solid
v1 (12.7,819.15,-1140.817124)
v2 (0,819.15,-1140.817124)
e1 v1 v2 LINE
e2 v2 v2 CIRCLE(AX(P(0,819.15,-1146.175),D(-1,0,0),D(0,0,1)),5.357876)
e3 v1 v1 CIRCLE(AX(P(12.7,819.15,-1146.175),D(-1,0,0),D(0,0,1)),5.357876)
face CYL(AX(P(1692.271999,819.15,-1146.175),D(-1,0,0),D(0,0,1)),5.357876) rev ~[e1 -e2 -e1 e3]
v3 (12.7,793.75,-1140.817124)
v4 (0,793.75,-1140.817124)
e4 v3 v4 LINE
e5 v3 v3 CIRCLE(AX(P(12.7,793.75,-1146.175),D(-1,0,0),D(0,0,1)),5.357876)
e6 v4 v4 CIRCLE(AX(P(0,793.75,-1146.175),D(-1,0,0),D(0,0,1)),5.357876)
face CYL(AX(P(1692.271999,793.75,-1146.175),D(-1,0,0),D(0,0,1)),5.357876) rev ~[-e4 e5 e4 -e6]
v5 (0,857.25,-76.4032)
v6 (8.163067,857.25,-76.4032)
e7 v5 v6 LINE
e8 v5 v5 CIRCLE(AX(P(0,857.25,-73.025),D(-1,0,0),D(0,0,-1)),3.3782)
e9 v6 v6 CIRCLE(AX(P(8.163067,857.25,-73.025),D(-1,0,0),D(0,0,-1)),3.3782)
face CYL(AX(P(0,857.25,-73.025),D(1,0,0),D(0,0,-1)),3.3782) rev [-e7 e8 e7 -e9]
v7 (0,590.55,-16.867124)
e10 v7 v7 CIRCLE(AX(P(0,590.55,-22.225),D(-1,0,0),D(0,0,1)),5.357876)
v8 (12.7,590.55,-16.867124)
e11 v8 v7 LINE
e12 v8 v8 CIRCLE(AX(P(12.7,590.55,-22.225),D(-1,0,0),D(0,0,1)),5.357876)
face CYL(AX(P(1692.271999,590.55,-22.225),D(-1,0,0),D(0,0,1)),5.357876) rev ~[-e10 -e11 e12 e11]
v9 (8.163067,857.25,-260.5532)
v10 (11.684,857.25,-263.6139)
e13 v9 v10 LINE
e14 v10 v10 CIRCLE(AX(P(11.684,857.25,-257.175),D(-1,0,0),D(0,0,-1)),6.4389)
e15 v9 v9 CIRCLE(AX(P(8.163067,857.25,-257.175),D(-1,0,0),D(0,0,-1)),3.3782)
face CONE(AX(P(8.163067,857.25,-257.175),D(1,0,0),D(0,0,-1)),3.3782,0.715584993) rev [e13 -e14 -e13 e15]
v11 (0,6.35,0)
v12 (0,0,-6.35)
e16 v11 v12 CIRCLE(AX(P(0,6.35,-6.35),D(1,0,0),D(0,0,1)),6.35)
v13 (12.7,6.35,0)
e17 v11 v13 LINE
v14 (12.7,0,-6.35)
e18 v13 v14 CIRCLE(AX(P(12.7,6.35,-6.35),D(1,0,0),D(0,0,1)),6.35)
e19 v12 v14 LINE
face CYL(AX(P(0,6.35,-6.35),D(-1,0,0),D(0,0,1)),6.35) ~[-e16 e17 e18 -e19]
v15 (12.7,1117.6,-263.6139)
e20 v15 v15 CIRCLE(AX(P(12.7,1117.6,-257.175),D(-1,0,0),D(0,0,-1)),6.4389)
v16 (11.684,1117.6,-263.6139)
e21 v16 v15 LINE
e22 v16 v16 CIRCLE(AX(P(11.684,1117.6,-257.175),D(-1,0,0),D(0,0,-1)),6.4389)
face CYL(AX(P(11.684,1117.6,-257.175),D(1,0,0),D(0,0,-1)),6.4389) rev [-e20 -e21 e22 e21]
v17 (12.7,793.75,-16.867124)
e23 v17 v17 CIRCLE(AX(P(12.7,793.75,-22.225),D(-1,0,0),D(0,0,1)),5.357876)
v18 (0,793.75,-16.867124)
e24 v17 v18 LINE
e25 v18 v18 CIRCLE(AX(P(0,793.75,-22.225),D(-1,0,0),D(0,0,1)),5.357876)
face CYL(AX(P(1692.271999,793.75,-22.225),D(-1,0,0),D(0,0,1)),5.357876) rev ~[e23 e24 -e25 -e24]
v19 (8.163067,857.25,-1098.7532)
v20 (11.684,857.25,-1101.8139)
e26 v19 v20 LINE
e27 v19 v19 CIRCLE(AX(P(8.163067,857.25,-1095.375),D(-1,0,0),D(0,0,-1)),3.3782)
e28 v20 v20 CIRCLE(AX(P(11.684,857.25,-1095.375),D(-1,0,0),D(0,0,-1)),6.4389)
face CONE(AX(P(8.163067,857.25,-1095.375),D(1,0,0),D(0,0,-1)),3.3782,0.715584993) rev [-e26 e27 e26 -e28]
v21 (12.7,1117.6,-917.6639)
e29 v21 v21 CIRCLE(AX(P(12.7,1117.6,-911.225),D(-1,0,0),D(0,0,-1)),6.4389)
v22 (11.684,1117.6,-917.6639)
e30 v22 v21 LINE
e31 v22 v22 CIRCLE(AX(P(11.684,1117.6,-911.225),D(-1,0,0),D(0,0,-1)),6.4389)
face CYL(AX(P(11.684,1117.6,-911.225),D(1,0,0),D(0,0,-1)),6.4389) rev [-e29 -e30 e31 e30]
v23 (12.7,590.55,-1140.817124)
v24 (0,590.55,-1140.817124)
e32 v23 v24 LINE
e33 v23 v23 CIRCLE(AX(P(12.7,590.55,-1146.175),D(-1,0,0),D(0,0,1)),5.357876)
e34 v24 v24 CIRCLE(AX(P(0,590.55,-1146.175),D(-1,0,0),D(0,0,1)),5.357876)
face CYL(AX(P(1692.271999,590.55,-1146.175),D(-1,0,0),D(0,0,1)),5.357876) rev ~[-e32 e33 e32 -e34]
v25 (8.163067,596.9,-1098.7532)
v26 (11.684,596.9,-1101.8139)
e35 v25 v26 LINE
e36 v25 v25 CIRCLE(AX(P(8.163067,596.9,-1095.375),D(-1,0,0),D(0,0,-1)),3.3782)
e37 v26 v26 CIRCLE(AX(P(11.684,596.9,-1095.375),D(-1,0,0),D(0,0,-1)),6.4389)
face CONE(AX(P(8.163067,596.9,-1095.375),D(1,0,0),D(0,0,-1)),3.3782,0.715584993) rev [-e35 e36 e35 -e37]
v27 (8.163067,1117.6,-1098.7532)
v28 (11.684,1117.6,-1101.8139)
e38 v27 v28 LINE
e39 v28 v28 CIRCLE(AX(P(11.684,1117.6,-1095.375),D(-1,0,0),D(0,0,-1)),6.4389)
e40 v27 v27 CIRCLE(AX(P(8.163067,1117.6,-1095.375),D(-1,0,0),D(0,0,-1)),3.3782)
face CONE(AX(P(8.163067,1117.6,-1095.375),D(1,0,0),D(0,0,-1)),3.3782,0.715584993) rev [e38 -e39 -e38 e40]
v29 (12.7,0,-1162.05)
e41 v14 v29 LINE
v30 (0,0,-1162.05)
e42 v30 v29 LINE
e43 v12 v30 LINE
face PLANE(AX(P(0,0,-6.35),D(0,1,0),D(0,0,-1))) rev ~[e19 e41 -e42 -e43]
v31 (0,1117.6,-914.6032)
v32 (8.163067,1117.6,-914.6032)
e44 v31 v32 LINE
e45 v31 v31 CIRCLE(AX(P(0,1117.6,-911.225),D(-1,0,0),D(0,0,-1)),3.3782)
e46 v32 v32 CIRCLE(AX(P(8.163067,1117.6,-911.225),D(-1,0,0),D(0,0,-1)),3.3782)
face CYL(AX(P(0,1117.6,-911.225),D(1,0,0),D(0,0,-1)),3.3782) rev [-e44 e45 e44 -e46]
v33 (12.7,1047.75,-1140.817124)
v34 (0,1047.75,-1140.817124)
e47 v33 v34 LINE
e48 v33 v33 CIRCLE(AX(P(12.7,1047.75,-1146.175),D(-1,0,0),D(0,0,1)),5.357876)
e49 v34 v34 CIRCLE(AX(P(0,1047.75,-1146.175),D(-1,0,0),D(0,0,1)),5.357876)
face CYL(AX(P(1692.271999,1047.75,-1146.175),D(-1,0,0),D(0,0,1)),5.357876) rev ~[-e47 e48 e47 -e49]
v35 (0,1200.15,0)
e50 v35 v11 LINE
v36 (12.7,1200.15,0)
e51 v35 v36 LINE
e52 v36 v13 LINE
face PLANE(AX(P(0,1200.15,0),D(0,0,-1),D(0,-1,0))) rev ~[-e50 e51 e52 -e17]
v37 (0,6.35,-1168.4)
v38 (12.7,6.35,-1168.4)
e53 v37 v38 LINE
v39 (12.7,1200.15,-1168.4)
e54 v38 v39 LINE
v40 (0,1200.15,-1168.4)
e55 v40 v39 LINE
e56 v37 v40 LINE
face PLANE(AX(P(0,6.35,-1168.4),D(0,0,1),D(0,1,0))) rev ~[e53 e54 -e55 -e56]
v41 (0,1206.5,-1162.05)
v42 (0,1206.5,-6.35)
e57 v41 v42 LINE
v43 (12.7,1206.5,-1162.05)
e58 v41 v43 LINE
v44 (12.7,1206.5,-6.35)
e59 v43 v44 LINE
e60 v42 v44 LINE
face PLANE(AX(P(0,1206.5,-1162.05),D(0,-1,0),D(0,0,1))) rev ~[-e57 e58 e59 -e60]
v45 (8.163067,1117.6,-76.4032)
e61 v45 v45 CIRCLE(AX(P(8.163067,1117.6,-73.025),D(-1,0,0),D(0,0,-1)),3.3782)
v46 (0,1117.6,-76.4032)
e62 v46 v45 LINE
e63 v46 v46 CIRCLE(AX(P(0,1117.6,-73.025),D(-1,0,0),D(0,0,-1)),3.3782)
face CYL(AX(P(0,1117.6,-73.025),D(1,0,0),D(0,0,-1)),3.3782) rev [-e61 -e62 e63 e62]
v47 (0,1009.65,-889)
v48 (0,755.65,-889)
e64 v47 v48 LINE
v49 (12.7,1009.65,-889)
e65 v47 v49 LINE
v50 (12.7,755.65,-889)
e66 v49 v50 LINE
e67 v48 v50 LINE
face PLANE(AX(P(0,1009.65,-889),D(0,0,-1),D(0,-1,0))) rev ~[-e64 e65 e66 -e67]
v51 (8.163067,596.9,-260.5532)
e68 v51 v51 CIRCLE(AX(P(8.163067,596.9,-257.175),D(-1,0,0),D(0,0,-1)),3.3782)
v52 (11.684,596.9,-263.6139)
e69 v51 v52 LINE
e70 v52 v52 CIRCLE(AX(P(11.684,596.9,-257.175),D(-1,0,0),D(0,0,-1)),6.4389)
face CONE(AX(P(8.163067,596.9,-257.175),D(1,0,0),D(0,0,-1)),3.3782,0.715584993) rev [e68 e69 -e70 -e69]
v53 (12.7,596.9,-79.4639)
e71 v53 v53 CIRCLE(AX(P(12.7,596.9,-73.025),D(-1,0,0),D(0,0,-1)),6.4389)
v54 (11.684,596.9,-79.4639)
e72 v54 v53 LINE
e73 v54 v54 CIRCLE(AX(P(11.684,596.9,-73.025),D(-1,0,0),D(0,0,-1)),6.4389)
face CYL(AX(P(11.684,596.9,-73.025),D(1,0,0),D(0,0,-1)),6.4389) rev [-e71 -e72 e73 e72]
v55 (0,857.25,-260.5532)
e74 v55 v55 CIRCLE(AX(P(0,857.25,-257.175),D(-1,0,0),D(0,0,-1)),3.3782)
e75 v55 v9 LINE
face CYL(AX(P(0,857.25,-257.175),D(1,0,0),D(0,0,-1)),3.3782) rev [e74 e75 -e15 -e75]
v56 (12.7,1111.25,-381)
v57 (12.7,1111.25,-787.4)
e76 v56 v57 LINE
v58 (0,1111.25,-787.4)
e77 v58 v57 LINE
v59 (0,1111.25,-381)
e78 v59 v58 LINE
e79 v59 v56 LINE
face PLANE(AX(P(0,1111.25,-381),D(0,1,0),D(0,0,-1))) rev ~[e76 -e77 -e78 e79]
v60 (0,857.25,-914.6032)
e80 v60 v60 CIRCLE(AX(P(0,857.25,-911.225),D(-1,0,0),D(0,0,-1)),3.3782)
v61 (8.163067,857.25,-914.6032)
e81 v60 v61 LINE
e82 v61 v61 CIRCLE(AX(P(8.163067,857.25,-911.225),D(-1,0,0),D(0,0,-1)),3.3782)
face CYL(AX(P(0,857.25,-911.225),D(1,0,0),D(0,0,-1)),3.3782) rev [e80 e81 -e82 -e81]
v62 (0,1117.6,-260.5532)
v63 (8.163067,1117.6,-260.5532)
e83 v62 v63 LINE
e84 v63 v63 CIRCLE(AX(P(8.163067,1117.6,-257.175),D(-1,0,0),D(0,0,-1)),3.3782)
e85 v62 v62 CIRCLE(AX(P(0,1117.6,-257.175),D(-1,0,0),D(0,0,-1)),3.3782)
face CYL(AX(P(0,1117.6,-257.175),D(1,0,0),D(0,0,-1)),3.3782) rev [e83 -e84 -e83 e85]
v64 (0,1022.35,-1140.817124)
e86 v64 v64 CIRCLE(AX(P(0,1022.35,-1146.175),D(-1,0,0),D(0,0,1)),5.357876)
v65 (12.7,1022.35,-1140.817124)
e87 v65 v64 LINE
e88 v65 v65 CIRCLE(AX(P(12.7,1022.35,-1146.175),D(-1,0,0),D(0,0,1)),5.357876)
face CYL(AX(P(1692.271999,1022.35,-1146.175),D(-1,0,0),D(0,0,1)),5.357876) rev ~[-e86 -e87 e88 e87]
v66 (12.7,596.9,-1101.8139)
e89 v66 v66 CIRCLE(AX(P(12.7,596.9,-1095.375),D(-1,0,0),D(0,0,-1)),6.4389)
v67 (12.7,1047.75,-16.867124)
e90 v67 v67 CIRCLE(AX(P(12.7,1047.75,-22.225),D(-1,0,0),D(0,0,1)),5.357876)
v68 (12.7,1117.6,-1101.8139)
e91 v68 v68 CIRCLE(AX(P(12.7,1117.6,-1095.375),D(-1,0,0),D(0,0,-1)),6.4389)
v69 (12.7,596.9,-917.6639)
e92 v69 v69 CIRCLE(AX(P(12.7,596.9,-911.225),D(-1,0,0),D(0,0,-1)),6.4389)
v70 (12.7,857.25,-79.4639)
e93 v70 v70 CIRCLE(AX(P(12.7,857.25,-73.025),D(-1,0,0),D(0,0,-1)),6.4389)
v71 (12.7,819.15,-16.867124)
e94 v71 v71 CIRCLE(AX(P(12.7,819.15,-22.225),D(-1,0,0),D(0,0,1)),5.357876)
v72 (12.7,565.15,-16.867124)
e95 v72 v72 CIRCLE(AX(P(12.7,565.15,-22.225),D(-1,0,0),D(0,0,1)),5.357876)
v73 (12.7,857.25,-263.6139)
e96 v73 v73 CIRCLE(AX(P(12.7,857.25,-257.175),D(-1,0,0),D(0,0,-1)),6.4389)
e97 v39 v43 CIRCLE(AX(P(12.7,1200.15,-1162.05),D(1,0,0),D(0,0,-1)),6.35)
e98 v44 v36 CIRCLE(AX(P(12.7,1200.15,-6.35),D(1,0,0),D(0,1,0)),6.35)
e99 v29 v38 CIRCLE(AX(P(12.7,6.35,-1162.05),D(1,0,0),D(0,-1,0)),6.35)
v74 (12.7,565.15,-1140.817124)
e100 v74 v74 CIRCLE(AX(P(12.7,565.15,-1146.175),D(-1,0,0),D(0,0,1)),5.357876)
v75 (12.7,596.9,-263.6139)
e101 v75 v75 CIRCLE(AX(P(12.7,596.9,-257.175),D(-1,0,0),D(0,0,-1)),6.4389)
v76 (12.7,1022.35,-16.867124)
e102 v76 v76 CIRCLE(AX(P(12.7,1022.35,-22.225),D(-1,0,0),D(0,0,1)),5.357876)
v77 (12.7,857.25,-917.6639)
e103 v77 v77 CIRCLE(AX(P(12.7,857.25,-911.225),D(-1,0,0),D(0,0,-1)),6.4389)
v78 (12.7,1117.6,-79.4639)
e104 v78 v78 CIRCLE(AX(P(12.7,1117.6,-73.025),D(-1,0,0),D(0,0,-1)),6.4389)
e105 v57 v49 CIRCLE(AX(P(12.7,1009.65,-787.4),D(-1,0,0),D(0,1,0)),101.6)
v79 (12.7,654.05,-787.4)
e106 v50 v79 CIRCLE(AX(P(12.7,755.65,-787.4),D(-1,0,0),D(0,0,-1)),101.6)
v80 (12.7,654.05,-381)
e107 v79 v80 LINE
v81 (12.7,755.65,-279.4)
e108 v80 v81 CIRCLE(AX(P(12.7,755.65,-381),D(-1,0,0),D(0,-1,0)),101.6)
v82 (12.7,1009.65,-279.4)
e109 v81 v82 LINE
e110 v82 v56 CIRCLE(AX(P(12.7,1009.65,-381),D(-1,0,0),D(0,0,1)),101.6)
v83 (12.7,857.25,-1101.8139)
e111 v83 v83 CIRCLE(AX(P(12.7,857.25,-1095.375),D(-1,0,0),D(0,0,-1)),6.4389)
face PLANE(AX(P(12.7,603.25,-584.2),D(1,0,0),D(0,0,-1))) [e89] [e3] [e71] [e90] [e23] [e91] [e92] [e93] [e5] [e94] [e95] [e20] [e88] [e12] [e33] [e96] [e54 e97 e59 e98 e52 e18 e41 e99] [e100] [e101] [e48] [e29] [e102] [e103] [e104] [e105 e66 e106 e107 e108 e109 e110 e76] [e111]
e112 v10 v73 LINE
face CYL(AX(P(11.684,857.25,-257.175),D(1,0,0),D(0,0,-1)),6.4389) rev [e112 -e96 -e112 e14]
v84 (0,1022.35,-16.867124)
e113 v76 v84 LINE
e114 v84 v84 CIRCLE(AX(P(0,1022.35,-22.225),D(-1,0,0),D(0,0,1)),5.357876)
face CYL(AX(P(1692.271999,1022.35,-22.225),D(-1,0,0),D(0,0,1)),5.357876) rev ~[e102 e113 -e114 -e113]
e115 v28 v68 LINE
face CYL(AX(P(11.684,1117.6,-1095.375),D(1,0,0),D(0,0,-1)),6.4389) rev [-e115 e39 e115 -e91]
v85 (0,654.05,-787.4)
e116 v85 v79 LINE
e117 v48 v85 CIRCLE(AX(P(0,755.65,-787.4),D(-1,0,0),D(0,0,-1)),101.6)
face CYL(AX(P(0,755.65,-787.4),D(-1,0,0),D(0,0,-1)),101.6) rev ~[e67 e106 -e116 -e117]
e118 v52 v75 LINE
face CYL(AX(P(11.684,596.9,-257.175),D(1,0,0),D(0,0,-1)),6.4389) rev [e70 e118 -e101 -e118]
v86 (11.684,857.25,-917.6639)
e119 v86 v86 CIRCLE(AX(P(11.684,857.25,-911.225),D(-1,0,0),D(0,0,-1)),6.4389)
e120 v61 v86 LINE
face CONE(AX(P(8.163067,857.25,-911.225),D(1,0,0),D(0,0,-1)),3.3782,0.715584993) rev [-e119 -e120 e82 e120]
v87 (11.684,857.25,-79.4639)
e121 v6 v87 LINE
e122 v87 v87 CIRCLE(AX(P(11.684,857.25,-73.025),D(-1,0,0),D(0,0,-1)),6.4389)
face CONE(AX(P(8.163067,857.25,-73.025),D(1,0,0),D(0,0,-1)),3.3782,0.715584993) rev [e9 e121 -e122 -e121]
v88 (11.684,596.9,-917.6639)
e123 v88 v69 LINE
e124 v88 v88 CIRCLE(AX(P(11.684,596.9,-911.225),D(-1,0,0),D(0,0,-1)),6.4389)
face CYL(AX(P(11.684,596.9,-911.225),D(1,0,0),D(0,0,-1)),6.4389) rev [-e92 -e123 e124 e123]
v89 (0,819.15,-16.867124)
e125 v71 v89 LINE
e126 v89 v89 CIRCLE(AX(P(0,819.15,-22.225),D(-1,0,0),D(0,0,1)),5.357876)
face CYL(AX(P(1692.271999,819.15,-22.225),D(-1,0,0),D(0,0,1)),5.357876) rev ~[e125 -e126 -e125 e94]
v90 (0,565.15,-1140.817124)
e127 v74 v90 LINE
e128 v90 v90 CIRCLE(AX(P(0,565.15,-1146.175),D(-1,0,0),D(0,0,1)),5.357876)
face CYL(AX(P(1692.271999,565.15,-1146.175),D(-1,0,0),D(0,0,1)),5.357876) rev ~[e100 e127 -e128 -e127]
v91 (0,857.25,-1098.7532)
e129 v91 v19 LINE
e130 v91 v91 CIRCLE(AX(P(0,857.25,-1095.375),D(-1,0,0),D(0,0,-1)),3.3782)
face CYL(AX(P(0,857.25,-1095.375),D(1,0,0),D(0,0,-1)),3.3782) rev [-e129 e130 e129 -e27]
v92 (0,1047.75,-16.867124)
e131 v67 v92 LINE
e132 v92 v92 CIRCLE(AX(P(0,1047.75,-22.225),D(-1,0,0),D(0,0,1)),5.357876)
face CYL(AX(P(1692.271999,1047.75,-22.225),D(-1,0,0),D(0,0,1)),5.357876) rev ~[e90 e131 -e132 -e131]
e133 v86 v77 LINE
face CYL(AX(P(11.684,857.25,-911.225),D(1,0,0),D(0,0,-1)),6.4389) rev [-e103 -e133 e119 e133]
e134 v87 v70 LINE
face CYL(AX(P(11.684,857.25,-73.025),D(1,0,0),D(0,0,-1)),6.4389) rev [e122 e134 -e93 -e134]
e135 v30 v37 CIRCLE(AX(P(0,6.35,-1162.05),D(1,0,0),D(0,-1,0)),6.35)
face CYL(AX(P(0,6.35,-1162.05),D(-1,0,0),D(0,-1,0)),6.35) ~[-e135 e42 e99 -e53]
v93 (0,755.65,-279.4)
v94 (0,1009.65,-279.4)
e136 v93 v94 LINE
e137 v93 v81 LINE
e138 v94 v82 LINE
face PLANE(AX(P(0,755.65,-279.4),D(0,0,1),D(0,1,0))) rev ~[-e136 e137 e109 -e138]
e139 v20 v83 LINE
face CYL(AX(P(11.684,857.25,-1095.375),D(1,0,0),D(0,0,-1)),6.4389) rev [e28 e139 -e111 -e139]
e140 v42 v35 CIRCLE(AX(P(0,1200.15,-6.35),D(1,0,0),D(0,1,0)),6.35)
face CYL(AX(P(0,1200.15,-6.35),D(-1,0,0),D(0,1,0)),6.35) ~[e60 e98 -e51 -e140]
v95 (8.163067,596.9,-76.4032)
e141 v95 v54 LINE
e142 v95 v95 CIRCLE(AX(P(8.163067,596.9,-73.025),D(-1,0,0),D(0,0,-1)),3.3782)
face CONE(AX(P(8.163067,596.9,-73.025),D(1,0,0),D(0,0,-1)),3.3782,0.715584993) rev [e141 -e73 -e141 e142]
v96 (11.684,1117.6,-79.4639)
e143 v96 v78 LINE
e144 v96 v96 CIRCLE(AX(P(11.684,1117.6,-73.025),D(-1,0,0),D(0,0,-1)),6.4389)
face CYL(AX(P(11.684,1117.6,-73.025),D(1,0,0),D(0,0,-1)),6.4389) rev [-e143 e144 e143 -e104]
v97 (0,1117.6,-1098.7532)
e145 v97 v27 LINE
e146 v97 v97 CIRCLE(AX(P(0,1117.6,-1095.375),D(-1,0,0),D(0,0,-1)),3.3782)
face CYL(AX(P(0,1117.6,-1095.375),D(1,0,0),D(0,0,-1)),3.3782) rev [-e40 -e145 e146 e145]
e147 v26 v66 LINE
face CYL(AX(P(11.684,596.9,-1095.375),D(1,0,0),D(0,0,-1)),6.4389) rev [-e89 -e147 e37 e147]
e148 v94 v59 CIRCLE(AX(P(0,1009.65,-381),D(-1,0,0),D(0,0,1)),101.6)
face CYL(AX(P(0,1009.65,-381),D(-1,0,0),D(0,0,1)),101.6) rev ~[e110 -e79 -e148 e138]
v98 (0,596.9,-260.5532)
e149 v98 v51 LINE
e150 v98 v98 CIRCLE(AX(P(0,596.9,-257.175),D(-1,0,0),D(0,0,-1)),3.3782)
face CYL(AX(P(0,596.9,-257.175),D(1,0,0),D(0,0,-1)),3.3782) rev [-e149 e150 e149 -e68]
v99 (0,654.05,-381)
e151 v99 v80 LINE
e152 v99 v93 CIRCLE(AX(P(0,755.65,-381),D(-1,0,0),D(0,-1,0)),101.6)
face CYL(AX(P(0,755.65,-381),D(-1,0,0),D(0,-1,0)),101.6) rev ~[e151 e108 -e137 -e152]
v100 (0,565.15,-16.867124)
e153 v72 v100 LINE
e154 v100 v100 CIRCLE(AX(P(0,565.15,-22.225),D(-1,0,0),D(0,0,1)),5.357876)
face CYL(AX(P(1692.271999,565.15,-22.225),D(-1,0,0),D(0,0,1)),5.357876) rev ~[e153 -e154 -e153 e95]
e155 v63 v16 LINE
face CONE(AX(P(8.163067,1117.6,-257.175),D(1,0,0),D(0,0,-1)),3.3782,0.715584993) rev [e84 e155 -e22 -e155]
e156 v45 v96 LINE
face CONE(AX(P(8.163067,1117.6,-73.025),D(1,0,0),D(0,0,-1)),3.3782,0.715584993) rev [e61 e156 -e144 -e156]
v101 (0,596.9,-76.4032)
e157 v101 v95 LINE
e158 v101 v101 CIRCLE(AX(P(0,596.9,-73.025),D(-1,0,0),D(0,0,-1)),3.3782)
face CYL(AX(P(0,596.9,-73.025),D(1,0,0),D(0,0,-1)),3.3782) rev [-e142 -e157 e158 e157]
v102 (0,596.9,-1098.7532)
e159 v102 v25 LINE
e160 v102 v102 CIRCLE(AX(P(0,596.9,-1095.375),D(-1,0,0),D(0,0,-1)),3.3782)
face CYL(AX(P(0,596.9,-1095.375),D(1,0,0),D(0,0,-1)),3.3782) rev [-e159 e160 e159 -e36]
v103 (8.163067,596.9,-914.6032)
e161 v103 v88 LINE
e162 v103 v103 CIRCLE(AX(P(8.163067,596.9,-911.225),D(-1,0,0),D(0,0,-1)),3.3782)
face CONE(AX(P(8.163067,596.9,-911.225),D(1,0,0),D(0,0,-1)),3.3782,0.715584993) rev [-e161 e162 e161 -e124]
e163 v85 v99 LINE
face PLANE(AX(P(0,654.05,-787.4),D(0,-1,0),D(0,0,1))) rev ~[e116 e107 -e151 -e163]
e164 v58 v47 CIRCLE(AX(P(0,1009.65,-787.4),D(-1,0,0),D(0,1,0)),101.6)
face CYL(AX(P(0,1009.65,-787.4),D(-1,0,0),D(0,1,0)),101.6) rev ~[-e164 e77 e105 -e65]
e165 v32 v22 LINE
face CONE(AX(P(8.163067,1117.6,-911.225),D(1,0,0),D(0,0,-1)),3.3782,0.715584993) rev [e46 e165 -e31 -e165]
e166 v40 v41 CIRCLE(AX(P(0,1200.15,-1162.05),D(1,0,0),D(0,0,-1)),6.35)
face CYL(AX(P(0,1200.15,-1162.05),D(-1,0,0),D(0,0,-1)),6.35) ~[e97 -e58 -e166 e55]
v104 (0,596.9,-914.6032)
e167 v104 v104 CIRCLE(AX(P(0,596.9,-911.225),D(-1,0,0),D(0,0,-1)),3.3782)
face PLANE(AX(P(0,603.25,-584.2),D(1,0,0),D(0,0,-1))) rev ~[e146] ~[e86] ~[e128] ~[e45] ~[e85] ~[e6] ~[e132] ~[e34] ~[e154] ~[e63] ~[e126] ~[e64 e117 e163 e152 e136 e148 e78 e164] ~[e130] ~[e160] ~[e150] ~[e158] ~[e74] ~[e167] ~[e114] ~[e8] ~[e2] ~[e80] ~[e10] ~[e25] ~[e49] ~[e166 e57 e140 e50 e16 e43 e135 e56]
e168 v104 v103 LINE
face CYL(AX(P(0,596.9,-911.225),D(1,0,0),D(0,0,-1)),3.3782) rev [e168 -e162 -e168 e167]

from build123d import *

# Parameters (mm, degrees)
BOSS_EXTRUDE1_DEPTH                           = 12.7
CSK_FOR_1_4_FLAT_HEAD_MACHINE_SCREW1_AT_COUNT = 2
CSK_FOR_1_4_FLAT_HEAD_MACHINE_SCREW1_AT_PITCH = 260.35
CSK_FOR_1_4_FLAT_HEAD_MACHINE_SCREW1_2_COUNT  = 2
CSK_FOR_1_4_FLAT_HEAD_MACHINE_SCREW1_2_PITCH  = 520.7
CSK_FOR_1_4_FLAT_HEAD_MACHINE_SCREW1_3_COUNT  = 2
CSK_FOR_1_4_FLAT_HEAD_MACHINE_SCREW1_3_PITCH  = 184.15
CSK_FOR_1_4_FLAT_HEAD_MACHINE_SCREW1_4_COUNT  = 2
CSK_FOR_1_4_FLAT_HEAD_MACHINE_SCREW1_4_PITCH  = 318.893940049
CSK_FOR_1_4_FLAT_HEAD_MACHINE_SCREW1_5_COUNT  = 2
CSK_FOR_1_4_FLAT_HEAD_MACHINE_SCREW1_5_PITCH  = 552.304003697
CSK_FOR_1_4_FLAT_HEAD_MACHINE_SCREW1_6_COUNT  = 2
CSK_FOR_1_4_FLAT_HEAD_MACHINE_SCREW1_6_PITCH  = 838.2
CSK_FOR_1_4_FLAT_HEAD_MACHINE_SCREW1_7_COUNT  = 2
CSK_FOR_1_4_FLAT_HEAD_MACHINE_SCREW1_7_PITCH  = 877.702319981
CSK_FOR_1_4_FLAT_HEAD_MACHINE_SCREW1_8_COUNT  = 2
CSK_FOR_1_4_FLAT_HEAD_MACHINE_SCREW1_8_PITCH  = 986.766299587
CSK_FOR_1_4_FLAT_HEAD_MACHINE_SCREW1_9_COUNT  = 2
CSK_FOR_1_4_FLAT_HEAD_MACHINE_SCREW1_9_PITCH  = 1022.35
CSK_FOR_1_4_FLAT_HEAD_MACHINE_SCREW1_10_COUNT = 2
CSK_FOR_1_4_FLAT_HEAD_MACHINE_SCREW1_10_PITCH = 1054.979452407
CSK_FOR_1_4_FLAT_HEAD_MACHINE_SCREW1_11_COUNT = 2
CSK_FOR_1_4_FLAT_HEAD_MACHINE_SCREW1_11_PITCH = 1147.313388966
F_27_64_0_42188_DIAMETER_HOLE1_D              = 10.715752


with BuildPart() as part:
    # Sketch1 → Boss-Extrude1 (new body)
    with BuildSketch(Plane(origin=(0, 0, 0), x_dir=(0, 0, -1), z_dir=(1, 0, 0))):
        with BuildLine():
            Line((6.35, 0), (1162.05, 0))
            ThreePointArc((1162.05, 0), (1166.540128061, 1.859871939), (1168.4, 6.35))
            Line((1168.4, 6.35), (1168.4, 1200.15))
            ThreePointArc((1168.4, 1200.15), (1166.540128061, 1204.640128061), (1162.05, 1206.5))
            Line((1162.05, 1206.5), (6.35, 1206.5))
            ThreePointArc((6.35, 1206.5), (1.859871939, 1204.640128061), (0, 1200.15))
            Line((0, 1200.15), (0, 6.35))
            ThreePointArc((0, 6.35), (1.859871939, 1.859871939), (6.35, 0))
        make_face()
        with BuildLine():
            Line((381, 1111.25), (787.4, 1111.25))
            ThreePointArc((787.4, 1111.25), (859.242048969, 1081.492048969), (889, 1009.65))
            Line((889, 1009.65), (889, 755.65))
            ThreePointArc((889, 755.65), (859.242048969, 683.807951031), (787.4, 654.05))
            Line((787.4, 654.05), (381, 654.05))
            ThreePointArc((381, 654.05), (309.157951031, 683.807951031), (279.4, 755.65))
            Line((279.4, 755.65), (279.4, 1009.65))
            ThreePointArc((279.4, 1009.65), (309.157951031, 1081.492048969), (381, 1111.25))
        make_face(mode=Mode.SUBTRACT)
    extrude(amount=BOSS_EXTRUDE1_DEPTH)

    # Sketch3 → CSK for 1/4 Flat Head Machine Screw1 (revolve, cut)
    with BuildSketch(Plane(origin=(12.7, 1117.6, -73.025), x_dir=(0, 0, -1), z_dir=(0, 1, 0))):
        Polygon((0, 0), (0, 12.7), (3.3782, 12.7), (3.3782, 4.536932584), (6.4389, 1.016), (6.4389, 0), align=None)
    csk_for_1_4_flat_head_machine_screw1 = revolve(axis=Axis((19.05, 1117.6, -73.025), (-1, 0, 0)), mode=Mode.SUBTRACT)

    # CSK for 1/4 Flat Head Machine Screw1 at: CSK for 1/4 Flat Head Machine Screw1 ×2
    with Locations(*[(0, -i * CSK_FOR_1_4_FLAT_HEAD_MACHINE_SCREW1_AT_PITCH, 0) for i in range(1, CSK_FOR_1_4_FLAT_HEAD_MACHINE_SCREW1_AT_COUNT)]):
        add(csk_for_1_4_flat_head_machine_screw1, mode=Mode.SUBTRACT)

    # CSK for 1_4 Flat Head Machine Screw1 2: CSK for 1/4 Flat Head Machine Screw1 ×2
    with Locations(*[(0, -i * CSK_FOR_1_4_FLAT_HEAD_MACHINE_SCREW1_2_PITCH, 0) for i in range(1, CSK_FOR_1_4_FLAT_HEAD_MACHINE_SCREW1_2_COUNT)]):
        add(csk_for_1_4_flat_head_machine_screw1, mode=Mode.SUBTRACT)

    # CSK for 1_4 Flat Head Machine Screw1 3: CSK for 1/4 Flat Head Machine Screw1 ×2
    with Locations(*[(0, 0, -i * CSK_FOR_1_4_FLAT_HEAD_MACHINE_SCREW1_3_PITCH) for i in range(1, CSK_FOR_1_4_FLAT_HEAD_MACHINE_SCREW1_3_COUNT)]):
        add(csk_for_1_4_flat_head_machine_screw1, mode=Mode.SUBTRACT)

    # CSK for 1_4 Flat Head Machine Screw1 4: CSK for 1/4 Flat Head Machine Screw1 ×2
    with Locations(*[Vector(0, -0.8164156395068651, -0.5774647206268073) * (i * CSK_FOR_1_4_FLAT_HEAD_MACHINE_SCREW1_4_PITCH) for i in range(1, CSK_FOR_1_4_FLAT_HEAD_MACHINE_SCREW1_4_COUNT)]):
        add(csk_for_1_4_flat_head_machine_screw1, mode=Mode.SUBTRACT)

    # CSK for 1_4 Flat Head Machine Screw1 5: CSK for 1/4 Flat Head Machine Screw1 ×2
    with Locations(*[Vector(0, -0.9427778841259971, -0.3334214468250479) * (i * CSK_FOR_1_4_FLAT_HEAD_MACHINE_SCREW1_5_PITCH) for i in range(1, CSK_FOR_1_4_FLAT_HEAD_MACHINE_SCREW1_5_COUNT)]):
        add(csk_for_1_4_flat_head_machine_screw1, mode=Mode.SUBTRACT)

    # CSK for 1_4 Flat Head Machine Screw1 6: CSK for 1/4 Flat Head Machine Screw1 ×2
    with Locations(*[(0, 0, -i * CSK_FOR_1_4_FLAT_HEAD_MACHINE_SCREW1_6_PITCH) for i in range(1, CSK_FOR_1_4_FLAT_HEAD_MACHINE_SCREW1_6_COUNT)]):
        add(csk_for_1_4_flat_head_machine_screw1, mode=Mode.SUBTRACT)

    # CSK for 1_4 Flat Head Machine Screw1 7: CSK for 1/4 Flat Head Machine Screw1 ×2
    with Locations(*[Vector(0, -0.2966267652176661, -0.9549934880178522) * (i * CSK_FOR_1_4_FLAT_HEAD_MACHINE_SCREW1_7_PITCH) for i in range(1, CSK_FOR_1_4_FLAT_HEAD_MACHINE_SCREW1_7_COUNT)]):
        add(csk_for_1_4_flat_head_machine_screw1, mode=Mode.SUBTRACT)

    # CSK for 1_4 Flat Head Machine Screw1 8: CSK for 1/4 Flat Head Machine Screw1 ×2
    with Locations(*[Vector(0, -0.5276832014004726, -0.8494412510349073) * (i * CSK_FOR_1_4_FLAT_HEAD_MACHINE_SCREW1_8_PITCH) for i in range(1, CSK_FOR_1_4_FLAT_HEAD_MACHINE_SCREW1_8_COUNT)]):
        add(csk_for_1_4_flat_head_machine_screw1, mode=Mode.SUBTRACT)

    # CSK for 1_4 Flat Head Machine Screw1 9: CSK for 1/4 Flat Head Machine Screw1 ×2
    with Locations(*[(0, 0, -i * CSK_FOR_1_4_FLAT_HEAD_MACHINE_SCREW1_9_PITCH) for i in range(1, CSK_FOR_1_4_FLAT_HEAD_MACHINE_SCREW1_9_COUNT)]):
        add(csk_for_1_4_flat_head_machine_screw1, mode=Mode.SUBTRACT)

    # CSK for 1_4 Flat Head Machine Screw1 10: CSK for 1/4 Flat Head Machine Screw1 ×2
    with Locations(*[Vector(0, -0.2467820576089035, -0.9690710067081337) * (i * CSK_FOR_1_4_FLAT_HEAD_MACHINE_SCREW1_10_PITCH) for i in range(1, CSK_FOR_1_4_FLAT_HEAD_MACHINE_SCREW1_10_COUNT)]):
        add(csk_for_1_4_flat_head_machine_screw1, mode=Mode.SUBTRACT)

    # CSK for 1_4 Flat Head Machine Screw1 11: CSK for 1/4 Flat Head Machine Screw1 ×2
    with Locations(*[Vector(0, -0.4538428689212819, -0.891081730443005) * (i * CSK_FOR_1_4_FLAT_HEAD_MACHINE_SCREW1_11_PITCH) for i in range(1, CSK_FOR_1_4_FLAT_HEAD_MACHINE_SCREW1_11_COUNT)]):
        add(csk_for_1_4_flat_head_machine_screw1, mode=Mode.SUBTRACT)

    # 27/64 (0.42188) Diameter Hole1 (through all)
    with Locations(Plane(origin=(12.7, 0, 0), x_dir=(0, 0, -1), z_dir=(1, 0, 0))):
        with Locations((22.225, 1047.75), (22.225, 1022.35), (22.225, 819.15), (22.225, 793.75), (22.225, 590.55), (22.225, 565.15), (1146.175, 1047.75), (1146.175, 1022.35), (1146.175, 819.15), (1146.175, 793.75), (1146.175, 565.15), (1146.175, 590.55)):
            Hole(F_27_64_0_42188_DIAMETER_HOLE1_D / 2)


solid = part.part
